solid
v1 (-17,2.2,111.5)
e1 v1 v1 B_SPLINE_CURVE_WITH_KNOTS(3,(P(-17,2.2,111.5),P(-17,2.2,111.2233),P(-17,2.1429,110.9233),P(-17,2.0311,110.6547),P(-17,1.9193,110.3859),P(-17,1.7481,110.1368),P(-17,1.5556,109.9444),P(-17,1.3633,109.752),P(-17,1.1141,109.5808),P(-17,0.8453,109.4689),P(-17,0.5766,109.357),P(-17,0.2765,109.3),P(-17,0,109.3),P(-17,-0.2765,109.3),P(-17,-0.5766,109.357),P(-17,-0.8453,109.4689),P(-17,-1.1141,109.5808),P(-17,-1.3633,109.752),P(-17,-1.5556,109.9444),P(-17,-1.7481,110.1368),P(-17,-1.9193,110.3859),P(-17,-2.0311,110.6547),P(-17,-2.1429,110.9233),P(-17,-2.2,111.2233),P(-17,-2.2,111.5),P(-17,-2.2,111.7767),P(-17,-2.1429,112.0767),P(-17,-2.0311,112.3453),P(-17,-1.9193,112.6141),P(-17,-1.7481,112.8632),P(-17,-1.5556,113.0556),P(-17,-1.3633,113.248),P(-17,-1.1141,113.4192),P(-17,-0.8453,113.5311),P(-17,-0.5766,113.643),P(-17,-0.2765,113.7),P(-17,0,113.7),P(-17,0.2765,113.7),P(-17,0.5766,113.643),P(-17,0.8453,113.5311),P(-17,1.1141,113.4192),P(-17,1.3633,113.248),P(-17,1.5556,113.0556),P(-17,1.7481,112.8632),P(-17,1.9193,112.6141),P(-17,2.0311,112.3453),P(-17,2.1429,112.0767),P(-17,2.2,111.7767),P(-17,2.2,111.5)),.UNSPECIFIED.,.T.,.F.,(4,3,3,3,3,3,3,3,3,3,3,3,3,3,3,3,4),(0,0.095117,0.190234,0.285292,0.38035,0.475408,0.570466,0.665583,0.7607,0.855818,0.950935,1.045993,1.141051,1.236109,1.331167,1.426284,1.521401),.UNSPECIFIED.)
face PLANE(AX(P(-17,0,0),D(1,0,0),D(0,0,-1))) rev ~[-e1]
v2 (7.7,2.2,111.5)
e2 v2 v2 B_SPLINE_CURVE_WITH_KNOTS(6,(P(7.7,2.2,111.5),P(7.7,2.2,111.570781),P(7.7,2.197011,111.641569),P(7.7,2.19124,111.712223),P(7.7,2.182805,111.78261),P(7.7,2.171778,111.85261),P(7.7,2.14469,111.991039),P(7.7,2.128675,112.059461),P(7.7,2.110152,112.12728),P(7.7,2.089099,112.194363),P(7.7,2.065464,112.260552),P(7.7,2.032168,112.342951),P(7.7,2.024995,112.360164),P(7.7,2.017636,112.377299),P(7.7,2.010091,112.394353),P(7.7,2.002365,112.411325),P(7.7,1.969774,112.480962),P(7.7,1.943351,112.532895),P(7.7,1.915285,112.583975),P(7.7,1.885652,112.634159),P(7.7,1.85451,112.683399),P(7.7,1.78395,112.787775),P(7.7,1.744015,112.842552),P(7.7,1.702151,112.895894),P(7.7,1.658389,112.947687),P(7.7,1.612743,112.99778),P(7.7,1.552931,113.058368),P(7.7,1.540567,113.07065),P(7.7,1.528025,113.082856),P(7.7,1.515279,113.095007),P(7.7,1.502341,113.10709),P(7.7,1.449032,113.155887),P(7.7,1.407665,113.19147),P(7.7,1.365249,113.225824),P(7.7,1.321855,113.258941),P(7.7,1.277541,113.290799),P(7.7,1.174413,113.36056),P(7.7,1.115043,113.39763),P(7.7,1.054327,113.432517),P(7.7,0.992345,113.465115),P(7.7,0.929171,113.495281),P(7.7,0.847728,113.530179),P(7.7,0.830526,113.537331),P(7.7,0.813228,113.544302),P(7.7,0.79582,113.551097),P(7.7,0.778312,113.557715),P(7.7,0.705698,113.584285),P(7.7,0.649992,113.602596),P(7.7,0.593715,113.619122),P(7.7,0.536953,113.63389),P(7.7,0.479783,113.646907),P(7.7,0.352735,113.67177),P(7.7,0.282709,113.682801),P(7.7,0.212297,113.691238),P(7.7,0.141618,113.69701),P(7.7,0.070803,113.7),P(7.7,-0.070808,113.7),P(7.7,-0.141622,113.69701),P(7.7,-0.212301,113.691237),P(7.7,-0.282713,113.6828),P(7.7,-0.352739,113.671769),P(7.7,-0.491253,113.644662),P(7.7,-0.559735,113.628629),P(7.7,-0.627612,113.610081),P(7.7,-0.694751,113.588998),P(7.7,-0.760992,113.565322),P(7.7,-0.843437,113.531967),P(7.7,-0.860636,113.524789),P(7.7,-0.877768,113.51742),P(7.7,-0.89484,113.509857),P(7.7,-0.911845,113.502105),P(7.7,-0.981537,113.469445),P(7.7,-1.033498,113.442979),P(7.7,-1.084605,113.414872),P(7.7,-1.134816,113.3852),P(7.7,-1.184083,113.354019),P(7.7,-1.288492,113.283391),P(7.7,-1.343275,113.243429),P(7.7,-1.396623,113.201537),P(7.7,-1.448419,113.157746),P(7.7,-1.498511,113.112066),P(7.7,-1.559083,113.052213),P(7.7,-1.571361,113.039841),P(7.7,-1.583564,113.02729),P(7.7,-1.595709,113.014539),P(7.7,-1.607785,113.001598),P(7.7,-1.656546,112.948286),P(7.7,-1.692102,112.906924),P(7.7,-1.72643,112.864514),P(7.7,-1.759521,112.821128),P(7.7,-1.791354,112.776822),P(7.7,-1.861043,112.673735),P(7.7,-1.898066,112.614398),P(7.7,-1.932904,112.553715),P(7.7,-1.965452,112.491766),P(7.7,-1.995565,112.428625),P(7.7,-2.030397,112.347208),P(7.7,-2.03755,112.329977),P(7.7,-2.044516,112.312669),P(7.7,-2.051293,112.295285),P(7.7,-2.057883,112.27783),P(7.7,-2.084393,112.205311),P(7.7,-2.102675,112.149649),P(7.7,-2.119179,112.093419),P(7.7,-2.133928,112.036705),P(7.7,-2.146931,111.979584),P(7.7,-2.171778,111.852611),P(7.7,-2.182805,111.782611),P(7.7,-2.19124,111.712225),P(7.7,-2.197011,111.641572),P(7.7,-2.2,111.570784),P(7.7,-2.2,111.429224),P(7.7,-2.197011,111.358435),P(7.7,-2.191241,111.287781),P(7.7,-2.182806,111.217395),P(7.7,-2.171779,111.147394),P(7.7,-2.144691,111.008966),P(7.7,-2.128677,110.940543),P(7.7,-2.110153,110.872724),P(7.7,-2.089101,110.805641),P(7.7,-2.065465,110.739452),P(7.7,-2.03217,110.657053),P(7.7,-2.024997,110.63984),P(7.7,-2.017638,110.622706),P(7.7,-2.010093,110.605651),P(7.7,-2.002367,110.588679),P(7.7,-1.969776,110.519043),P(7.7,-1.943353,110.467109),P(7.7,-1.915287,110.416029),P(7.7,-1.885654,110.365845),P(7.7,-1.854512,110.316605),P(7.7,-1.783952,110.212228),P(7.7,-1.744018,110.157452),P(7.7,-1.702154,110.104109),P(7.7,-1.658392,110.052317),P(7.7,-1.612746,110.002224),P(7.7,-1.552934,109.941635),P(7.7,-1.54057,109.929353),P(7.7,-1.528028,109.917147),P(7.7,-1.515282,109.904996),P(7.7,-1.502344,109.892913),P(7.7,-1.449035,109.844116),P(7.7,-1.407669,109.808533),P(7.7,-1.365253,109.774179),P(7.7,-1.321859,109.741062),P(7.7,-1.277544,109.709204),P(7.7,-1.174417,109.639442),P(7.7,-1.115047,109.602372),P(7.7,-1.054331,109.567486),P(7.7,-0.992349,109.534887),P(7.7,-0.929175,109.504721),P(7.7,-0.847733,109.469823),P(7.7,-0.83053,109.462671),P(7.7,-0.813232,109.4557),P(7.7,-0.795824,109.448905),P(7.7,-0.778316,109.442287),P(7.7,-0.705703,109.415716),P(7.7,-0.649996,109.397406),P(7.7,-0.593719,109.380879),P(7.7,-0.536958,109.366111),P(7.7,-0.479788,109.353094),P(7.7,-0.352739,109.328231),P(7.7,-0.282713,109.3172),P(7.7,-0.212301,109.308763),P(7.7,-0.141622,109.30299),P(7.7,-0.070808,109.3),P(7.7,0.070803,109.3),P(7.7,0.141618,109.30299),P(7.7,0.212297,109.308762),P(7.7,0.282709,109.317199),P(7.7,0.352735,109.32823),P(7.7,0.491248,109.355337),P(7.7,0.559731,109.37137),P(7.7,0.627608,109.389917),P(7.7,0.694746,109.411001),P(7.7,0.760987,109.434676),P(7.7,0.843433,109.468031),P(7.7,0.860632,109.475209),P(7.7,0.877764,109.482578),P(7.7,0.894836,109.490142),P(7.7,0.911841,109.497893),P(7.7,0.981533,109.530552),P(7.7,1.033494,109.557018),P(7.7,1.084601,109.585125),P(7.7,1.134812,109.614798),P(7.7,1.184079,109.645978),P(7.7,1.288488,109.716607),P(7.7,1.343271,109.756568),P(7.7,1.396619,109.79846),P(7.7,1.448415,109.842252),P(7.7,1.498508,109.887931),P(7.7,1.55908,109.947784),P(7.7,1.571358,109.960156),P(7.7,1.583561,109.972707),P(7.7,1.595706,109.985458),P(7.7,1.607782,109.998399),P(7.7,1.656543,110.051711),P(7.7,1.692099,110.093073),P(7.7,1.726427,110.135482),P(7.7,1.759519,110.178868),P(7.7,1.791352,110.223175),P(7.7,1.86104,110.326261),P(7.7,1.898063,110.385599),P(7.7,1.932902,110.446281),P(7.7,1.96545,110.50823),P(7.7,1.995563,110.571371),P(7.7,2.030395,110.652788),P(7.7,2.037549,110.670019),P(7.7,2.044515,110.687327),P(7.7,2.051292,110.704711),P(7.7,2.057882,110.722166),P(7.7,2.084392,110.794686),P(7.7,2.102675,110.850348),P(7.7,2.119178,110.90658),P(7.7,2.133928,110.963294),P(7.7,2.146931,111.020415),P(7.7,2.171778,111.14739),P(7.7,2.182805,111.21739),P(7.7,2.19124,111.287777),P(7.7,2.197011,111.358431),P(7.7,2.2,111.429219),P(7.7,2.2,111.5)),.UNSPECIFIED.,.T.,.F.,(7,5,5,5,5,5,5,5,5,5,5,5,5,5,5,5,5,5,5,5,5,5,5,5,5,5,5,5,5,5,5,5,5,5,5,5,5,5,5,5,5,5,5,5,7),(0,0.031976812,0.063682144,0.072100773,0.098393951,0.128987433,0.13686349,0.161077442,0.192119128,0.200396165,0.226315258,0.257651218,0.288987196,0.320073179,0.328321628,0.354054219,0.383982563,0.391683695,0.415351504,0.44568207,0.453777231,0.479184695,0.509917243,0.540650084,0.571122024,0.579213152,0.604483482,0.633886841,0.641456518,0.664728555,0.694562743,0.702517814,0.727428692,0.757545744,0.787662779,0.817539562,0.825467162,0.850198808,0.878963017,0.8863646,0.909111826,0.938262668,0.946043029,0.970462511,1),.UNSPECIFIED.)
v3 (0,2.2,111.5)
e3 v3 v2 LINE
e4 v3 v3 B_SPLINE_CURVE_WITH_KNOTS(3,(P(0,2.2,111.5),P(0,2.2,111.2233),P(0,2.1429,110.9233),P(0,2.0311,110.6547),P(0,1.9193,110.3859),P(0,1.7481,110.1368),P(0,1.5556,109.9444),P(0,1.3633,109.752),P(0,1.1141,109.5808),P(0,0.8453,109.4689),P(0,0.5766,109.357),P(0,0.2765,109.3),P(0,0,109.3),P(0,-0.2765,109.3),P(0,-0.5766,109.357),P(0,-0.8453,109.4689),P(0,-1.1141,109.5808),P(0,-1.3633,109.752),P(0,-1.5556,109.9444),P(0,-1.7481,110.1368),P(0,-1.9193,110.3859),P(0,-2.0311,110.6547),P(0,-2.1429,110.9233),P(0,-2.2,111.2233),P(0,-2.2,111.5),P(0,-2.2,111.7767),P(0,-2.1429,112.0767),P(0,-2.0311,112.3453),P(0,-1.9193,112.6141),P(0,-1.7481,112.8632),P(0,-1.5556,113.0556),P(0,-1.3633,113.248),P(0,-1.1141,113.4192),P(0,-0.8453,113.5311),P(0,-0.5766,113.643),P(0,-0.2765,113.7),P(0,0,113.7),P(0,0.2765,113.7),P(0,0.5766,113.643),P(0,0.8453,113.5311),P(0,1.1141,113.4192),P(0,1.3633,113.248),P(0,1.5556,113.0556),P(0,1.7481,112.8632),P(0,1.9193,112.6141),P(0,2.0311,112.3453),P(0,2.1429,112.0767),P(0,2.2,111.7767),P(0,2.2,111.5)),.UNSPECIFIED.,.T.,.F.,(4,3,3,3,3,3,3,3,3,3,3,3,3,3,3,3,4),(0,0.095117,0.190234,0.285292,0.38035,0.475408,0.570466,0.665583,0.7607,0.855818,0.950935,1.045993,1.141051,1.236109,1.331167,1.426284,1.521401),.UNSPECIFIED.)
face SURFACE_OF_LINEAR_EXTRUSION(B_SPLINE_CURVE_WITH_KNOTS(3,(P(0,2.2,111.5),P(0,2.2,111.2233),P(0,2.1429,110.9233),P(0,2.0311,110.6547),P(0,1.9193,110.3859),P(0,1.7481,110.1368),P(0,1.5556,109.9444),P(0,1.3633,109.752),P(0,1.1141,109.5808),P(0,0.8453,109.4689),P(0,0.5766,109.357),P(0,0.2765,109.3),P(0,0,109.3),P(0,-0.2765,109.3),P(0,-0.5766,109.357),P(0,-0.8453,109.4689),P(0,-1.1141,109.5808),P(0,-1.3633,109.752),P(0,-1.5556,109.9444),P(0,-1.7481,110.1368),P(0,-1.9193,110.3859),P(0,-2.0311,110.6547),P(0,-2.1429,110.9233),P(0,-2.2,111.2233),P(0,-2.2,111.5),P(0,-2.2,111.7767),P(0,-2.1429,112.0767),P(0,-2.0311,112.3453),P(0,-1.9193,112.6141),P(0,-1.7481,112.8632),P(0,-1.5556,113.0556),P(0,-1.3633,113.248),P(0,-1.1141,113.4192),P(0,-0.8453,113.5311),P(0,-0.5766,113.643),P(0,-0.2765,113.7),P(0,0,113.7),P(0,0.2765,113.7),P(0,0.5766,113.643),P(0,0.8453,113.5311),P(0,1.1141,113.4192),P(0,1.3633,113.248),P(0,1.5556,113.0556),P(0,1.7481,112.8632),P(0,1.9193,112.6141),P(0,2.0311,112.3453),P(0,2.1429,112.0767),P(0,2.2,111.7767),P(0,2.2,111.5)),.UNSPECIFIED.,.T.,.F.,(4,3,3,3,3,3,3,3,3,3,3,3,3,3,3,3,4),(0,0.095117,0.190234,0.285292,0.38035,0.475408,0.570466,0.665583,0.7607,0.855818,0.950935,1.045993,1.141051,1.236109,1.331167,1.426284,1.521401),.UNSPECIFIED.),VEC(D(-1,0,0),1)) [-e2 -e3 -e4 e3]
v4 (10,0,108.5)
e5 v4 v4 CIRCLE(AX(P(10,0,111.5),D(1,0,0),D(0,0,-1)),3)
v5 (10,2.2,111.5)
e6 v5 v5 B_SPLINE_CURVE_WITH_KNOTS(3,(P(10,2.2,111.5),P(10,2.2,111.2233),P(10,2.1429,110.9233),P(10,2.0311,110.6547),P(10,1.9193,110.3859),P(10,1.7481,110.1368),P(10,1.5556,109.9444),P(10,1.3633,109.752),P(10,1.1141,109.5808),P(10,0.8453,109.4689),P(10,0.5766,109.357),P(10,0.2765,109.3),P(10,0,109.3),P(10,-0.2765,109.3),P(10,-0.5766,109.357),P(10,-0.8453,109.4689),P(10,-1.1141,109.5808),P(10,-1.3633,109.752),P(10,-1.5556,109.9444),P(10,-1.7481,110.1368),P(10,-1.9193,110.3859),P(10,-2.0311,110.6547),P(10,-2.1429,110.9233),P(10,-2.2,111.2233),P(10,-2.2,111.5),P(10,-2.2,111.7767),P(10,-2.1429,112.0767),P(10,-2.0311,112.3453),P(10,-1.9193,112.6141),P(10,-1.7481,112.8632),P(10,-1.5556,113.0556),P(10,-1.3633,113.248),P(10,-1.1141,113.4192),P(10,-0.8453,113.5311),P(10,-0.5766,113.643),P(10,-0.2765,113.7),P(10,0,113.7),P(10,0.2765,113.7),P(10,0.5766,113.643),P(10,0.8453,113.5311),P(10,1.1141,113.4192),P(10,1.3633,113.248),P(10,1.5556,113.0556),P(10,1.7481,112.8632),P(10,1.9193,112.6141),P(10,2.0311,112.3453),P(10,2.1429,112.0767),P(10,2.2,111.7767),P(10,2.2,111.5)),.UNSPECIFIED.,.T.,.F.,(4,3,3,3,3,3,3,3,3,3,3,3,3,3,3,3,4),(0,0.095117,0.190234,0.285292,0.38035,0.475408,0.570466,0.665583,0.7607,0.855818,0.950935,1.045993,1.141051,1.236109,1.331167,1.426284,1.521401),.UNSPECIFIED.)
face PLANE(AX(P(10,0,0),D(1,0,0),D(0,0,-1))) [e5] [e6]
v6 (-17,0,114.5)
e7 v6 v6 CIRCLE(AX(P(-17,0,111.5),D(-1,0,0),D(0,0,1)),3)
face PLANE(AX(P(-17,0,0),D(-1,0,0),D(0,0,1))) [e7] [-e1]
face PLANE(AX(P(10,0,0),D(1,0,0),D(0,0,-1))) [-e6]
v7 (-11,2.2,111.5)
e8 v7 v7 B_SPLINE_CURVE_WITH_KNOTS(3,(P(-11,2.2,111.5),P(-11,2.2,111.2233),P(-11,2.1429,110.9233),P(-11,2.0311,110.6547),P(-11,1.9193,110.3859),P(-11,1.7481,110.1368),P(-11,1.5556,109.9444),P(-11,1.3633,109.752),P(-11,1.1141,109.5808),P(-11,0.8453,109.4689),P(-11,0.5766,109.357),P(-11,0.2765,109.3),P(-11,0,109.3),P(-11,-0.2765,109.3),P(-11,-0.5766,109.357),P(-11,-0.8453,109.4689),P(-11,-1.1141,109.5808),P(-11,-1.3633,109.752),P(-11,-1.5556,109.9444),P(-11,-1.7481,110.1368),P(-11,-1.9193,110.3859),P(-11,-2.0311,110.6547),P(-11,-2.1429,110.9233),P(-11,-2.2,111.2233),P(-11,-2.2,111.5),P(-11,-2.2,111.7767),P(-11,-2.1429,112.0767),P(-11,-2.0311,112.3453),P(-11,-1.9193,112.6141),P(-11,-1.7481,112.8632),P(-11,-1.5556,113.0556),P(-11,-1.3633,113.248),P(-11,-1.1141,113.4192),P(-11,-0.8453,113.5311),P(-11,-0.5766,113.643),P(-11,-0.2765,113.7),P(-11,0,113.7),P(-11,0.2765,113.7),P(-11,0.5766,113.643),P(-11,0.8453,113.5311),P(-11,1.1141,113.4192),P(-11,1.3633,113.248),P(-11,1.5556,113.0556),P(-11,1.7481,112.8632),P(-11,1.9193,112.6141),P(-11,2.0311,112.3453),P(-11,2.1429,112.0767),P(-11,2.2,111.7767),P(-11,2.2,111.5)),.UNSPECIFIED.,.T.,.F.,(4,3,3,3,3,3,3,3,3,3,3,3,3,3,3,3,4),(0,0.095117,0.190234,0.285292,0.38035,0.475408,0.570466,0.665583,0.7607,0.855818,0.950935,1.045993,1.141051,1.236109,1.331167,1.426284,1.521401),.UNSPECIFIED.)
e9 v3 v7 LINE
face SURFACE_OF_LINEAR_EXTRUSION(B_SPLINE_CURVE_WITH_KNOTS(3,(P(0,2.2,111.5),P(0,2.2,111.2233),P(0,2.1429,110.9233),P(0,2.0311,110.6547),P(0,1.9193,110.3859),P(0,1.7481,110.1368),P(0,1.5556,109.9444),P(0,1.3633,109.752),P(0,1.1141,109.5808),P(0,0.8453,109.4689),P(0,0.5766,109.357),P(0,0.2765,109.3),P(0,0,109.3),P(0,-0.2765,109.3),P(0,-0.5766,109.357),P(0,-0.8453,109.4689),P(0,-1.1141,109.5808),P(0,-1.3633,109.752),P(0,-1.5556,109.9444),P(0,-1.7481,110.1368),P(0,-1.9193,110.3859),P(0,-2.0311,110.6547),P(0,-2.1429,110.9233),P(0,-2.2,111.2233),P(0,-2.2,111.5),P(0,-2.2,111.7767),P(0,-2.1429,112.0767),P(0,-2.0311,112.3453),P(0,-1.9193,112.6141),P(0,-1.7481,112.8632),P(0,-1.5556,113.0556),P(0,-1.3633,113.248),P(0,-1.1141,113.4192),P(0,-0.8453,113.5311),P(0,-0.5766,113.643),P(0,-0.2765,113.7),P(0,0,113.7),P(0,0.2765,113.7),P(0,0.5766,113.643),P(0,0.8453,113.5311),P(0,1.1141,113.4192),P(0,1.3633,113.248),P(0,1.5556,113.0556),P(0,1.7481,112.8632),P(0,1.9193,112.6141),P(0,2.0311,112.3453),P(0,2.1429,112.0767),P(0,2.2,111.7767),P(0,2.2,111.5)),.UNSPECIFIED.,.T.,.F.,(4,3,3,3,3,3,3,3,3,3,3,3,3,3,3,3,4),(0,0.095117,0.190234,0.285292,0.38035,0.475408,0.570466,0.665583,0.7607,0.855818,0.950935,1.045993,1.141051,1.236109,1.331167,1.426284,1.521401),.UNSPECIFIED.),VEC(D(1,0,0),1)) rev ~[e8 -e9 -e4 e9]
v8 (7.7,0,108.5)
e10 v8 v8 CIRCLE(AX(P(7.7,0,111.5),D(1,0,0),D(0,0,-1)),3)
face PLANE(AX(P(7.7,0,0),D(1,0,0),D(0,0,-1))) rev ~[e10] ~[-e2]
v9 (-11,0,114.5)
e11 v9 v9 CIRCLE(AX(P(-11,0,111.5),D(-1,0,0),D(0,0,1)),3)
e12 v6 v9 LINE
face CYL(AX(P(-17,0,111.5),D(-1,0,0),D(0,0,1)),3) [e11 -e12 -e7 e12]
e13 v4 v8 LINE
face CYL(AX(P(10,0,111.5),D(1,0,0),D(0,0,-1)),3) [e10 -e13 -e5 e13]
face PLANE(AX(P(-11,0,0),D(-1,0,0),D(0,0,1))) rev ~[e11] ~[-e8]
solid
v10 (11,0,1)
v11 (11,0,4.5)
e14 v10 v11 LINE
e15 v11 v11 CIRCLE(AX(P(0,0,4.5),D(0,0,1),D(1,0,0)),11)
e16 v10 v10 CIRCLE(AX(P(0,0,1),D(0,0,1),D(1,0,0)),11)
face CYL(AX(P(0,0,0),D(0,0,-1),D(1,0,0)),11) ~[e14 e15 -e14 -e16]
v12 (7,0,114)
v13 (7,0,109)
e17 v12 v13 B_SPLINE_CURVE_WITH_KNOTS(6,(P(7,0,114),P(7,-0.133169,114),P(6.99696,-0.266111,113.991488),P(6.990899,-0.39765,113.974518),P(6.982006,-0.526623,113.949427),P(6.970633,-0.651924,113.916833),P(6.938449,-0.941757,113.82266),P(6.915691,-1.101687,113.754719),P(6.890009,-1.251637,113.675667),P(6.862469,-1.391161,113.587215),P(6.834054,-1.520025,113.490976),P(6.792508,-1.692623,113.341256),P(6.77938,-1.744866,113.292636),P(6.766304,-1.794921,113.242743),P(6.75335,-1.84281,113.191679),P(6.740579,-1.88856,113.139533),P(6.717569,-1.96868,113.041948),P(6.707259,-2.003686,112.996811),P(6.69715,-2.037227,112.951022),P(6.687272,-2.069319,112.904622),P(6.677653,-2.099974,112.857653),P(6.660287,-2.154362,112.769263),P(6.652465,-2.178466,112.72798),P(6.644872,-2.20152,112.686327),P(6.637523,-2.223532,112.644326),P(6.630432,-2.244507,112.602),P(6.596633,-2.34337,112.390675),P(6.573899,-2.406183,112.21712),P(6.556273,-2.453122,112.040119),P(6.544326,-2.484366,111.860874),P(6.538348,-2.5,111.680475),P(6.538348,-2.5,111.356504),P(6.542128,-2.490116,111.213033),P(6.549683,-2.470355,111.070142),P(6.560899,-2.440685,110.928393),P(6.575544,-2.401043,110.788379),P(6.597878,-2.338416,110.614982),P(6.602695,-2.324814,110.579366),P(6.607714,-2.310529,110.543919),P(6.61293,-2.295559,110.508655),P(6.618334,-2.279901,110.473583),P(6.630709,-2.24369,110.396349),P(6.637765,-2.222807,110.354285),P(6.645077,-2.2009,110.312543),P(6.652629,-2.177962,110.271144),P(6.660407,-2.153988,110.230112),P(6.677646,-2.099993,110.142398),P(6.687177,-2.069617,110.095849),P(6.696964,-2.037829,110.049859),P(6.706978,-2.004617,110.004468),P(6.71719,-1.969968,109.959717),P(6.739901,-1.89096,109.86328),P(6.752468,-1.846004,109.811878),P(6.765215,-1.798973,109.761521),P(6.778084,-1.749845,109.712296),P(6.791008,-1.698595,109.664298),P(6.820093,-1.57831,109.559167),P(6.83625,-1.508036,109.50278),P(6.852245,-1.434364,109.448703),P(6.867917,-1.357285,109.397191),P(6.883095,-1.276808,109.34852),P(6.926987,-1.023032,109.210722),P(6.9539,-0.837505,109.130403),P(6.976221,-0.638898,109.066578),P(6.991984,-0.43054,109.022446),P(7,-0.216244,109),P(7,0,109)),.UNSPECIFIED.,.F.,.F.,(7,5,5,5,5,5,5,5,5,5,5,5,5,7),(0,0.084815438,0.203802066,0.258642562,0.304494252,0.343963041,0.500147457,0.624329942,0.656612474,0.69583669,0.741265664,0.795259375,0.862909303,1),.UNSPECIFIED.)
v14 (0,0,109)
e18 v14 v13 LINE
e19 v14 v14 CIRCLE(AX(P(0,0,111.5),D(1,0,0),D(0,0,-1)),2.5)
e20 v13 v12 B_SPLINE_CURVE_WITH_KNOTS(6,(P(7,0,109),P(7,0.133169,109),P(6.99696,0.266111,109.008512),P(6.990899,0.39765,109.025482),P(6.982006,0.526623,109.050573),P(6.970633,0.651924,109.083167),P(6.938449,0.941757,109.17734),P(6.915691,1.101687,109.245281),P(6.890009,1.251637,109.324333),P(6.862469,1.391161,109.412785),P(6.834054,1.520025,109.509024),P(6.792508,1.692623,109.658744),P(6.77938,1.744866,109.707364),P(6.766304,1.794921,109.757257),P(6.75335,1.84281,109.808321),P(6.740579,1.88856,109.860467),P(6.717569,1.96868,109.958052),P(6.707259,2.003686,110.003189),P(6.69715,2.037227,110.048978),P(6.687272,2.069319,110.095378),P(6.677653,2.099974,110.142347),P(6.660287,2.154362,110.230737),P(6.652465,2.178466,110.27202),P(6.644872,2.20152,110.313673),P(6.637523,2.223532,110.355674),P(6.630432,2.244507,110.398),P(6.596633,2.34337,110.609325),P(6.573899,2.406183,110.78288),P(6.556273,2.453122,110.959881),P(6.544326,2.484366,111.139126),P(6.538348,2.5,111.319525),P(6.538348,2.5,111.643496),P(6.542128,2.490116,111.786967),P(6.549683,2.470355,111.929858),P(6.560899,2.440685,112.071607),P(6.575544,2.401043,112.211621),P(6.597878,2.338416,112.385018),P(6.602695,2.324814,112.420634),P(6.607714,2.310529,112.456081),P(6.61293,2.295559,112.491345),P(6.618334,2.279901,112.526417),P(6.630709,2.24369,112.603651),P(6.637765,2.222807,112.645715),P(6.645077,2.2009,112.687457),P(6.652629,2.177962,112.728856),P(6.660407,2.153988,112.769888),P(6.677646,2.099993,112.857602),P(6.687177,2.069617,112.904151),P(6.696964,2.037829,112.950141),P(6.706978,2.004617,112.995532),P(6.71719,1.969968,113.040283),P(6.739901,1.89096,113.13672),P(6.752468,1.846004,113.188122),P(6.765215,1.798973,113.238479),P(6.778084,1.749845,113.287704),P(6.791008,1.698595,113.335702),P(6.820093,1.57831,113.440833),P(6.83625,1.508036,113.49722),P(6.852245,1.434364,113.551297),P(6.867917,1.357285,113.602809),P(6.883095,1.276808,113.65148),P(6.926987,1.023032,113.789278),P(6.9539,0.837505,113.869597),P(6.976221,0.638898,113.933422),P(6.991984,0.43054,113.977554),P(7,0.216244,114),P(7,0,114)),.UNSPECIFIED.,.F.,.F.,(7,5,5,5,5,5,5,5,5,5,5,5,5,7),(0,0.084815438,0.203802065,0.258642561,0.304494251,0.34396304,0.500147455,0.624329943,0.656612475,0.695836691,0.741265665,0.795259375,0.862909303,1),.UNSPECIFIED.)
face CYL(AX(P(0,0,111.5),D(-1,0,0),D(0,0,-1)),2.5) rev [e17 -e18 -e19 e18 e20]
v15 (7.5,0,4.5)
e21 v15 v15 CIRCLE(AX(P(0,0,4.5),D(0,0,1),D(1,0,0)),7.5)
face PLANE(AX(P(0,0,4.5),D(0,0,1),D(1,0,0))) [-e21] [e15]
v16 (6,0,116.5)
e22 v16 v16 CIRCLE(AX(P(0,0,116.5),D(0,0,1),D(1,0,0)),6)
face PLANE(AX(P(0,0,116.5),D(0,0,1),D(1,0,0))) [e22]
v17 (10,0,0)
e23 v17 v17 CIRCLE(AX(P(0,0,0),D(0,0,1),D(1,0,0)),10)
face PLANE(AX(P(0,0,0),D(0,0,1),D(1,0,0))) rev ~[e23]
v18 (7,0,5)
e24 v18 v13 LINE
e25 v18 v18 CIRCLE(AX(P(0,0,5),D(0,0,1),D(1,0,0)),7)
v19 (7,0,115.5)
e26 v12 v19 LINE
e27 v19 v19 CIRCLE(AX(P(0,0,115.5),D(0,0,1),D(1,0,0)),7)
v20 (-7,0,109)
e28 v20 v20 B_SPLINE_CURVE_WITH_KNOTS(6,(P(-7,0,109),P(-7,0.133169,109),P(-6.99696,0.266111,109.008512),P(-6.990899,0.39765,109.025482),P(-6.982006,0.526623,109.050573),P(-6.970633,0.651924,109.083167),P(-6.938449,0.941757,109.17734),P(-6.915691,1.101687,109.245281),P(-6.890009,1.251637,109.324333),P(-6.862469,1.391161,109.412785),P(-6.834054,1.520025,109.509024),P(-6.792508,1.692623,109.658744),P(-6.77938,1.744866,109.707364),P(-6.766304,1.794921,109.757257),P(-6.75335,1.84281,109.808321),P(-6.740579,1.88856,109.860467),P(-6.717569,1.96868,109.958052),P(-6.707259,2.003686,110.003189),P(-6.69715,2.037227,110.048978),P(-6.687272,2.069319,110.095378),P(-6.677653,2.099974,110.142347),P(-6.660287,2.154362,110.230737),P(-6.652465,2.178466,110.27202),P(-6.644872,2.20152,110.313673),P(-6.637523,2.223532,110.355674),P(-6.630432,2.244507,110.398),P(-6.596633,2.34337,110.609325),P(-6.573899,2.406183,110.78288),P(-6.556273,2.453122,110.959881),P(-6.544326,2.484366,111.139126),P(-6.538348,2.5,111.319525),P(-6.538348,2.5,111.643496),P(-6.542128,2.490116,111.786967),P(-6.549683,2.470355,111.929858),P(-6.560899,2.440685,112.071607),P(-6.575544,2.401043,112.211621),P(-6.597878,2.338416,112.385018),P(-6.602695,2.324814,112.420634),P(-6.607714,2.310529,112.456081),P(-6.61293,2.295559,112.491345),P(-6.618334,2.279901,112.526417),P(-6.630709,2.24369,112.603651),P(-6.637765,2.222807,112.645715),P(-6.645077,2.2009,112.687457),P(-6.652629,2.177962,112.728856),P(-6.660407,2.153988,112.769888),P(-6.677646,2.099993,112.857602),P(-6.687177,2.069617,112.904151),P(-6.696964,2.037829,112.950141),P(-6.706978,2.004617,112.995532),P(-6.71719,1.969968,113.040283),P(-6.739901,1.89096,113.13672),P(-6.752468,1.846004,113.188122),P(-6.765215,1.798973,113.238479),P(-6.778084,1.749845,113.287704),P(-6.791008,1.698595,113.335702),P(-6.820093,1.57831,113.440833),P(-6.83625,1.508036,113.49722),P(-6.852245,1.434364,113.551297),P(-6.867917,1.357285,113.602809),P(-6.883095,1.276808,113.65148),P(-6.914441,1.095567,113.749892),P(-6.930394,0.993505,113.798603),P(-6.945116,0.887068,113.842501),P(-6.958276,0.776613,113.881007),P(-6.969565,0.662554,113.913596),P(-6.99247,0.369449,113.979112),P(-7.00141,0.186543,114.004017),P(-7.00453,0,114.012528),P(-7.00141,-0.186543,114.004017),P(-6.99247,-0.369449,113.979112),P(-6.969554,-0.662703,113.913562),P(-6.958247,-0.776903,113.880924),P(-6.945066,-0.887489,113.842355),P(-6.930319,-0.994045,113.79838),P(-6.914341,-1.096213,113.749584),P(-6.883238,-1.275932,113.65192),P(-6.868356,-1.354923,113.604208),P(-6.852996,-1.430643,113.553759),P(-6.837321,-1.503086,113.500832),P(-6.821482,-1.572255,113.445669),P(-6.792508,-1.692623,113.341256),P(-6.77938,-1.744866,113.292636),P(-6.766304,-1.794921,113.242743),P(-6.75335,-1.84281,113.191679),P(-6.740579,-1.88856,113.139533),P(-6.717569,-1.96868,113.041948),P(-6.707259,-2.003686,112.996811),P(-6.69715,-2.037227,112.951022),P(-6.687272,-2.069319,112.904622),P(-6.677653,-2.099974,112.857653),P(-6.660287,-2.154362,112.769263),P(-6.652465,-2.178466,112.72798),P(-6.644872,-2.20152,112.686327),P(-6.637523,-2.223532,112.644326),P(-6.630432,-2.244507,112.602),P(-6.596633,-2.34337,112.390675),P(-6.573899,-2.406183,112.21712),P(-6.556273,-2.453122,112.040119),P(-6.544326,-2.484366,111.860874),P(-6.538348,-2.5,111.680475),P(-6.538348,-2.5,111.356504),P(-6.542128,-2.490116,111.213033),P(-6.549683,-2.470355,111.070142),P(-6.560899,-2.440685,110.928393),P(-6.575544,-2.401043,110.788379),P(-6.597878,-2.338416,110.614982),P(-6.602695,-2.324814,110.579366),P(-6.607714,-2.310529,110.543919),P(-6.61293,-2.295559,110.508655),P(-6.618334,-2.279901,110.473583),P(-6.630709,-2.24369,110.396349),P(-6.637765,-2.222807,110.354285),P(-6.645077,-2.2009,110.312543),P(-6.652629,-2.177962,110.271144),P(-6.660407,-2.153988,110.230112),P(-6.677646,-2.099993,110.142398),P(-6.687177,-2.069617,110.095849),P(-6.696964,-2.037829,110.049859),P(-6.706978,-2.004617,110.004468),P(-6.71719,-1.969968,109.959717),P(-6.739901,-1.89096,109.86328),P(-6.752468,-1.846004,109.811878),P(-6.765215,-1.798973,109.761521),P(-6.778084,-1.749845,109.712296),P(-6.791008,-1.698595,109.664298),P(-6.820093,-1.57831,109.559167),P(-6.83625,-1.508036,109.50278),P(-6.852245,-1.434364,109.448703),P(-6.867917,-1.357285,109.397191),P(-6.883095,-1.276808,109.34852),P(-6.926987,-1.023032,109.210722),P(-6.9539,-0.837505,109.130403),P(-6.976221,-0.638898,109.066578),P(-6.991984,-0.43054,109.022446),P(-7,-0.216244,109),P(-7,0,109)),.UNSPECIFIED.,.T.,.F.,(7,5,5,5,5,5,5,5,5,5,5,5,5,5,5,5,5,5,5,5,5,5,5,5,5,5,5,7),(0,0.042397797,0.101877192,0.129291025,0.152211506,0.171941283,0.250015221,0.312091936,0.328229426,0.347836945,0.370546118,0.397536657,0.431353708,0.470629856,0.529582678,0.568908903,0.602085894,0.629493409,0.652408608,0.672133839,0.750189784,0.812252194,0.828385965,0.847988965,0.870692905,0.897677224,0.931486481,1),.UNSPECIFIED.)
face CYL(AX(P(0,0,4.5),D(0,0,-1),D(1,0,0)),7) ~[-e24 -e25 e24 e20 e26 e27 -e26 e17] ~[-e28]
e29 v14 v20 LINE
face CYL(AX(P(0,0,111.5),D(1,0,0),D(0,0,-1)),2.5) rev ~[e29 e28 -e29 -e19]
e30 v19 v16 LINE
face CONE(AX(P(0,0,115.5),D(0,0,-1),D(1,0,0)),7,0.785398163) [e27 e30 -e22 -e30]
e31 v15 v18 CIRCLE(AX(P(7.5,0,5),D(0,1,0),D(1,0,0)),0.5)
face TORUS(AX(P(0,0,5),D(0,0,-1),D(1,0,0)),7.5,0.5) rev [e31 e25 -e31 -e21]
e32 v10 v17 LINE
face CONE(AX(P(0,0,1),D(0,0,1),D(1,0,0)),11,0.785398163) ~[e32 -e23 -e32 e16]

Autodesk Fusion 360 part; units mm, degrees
sketch "Sketch1" plane through (0, 0, 0) normal (0, 0, 1) x (1, 0, 0)
  circle A0 centre (0, 0) radius 11
  dimension "d1" = 22
extrude "Extrude1" add sketch "Sketch1" along normal blind 4.5 makes body 1
chamfer "Chamfer1" distance 1 angle 45 1 edges at (-10.2556, -3.9778, 0) on bodies 1
sketch "Sketch2" plane through (0, 0, 4.5) normal (0, 0, 1) x (1, 0, 0)
  circle A0 centre (0, 0) radius 11
  circle A1 centre (0, 0) radius 7
  dimension "d5" = 14
extrude "Extrude2" add sketch "Sketch2" along normal blind 112 contours A1 bodies 1
fillet "Fillet1" radius 0.5 1 edges at (-6.5263, 2.5313, 4.5) on bodies 1
sketch "Sketch3" plane through (0, 0, 0) normal (1, 0, 0) x (0, 0, -1)
  line L0 (-116.5, 0) -> (-111.5, 0) construction
  circle A0 centre (-111.5, 0) radius 2.5
  point P0 (-116.5, 0)
  dimension "d9" = 5
  dimension "d10" = 5
extrude "Extrude3" cut sketch "Sketch3" along normal through all and the other way through all bodies 1
chamfer "Chamfer2" distance 1 angle 45 1 edges at (-6.5263, -2.5313, 116.5) on bodies 1
sketch "Sketch4" plane through (0, 0, 0) normal (1, 0, 0) x (0, 0, -1)
  spline S0 degree 3 poles (-111.5, 2.5) (-111.1829, 2.5) (-110.8469, 2.4361) (-110.2319, 2.1801) (-109.9527, 1.9882) (-109.5119, 1.5474) (-109.3199, 1.2682) (-109.0639, 0.653) (-109, 0.3169) (-109, -0.3169) (-109.0639, -0.653) (-109.3199, -1.2682) (-109.5119, -1.5474) (-109.9527, -1.9882) (-110.2319, -2.1801) (-110.8469, -2.4361) (-111.1829, -2.5) (-111.8171, -2.5) (-112.1531, -2.4361) (-112.7681, -2.1801) (-113.0473, -1.9882) (-113.4881, -1.5474) (-113.6801, -1.2682) (-113.9361, -0.653) (-114, -0.3169) (-114, 0.3169) (-113.9361, 0.653) (-113.6801, 1.2682) (-113.4881, 1.5474) (-113.0473, 1.9882) (-112.7681, 2.1801) (-112.1531, 2.4361) (-111.8171, 2.5) (-111.5, 2.5) knots 0 0 0 0 0.095117 0.095117 0.190234 0.190234 0.285292 0.285292 0.38035 0.38035 0.475408 0.475408 0.570466 0.570466 0.665583 0.665583 0.7607 0.7607 0.855818 0.855818 0.950935 0.950935 1.045993 1.045993 1.141051 1.141051 1.236109 1.236109 1.331167 1.331167 1.426284 1.426284 1.521401 1.521401 1.521401 1.521401
  spline S1 degree 3 poles (-111.5, 2.2) (-111.2233, 2.2) (-110.9233, 2.1429) (-110.6547, 2.0311) (-110.3859, 1.9193) (-110.1368, 1.7481) (-109.9444, 1.5556) (-109.752, 1.3633) (-109.5808, 1.1141) (-109.4689, 0.8453) (-109.357, 0.5766) (-109.3, 0.2765) (-109.3, 0) (-109.3, -0.2765) (-109.357, -0.5766) (-109.4689, -0.8453) (-109.5808, -1.1141) (-109.752, -1.3633) (-109.9444, -1.5556) (-110.1368, -1.7481) (-110.3859, -1.9193) (-110.6547, -2.0311) (-110.9233, -2.1429) (-111.2233, -2.2) (-111.5, -2.2) (-111.7767, -2.2) (-112.0767, -2.1429) (-112.3453, -2.0311) (-112.6141, -1.9193) (-112.8632, -1.7481) (-113.0556, -1.5556) (-113.248, -1.3633) (-113.4192, -1.1141) (-113.5311, -0.8453) (-113.643, -0.5766) (-113.7, -0.2765) (-113.7, 0) (-113.7, 0.2765) (-113.643, 0.5766) (-113.5311, 0.8453) (-113.4192, 1.1141) (-113.248, 1.3633) (-113.0556, 1.5556) (-112.8632, 1.7481) (-112.6141, 1.9193) (-112.3453, 2.0311) (-112.0767, 2.1429) (-111.7767, 2.2) (-111.5, 2.2) knots 0 0 0 0 0.095117 0.095117 0.095117 0.190234 0.190234 0.190234 0.285292 0.285292 0.285292 0.38035 0.38035 0.38035 0.475408 0.475408 0.475408 0.570466 0.570466 0.570466 0.665583 0.665583 0.665583 0.7607 0.7607 0.7607 0.855818 0.855818 0.855818 0.950935 0.950935 0.950935 1.045993 1.045993 1.045993 1.141051 1.141051 1.141051 1.236109 1.236109 1.236109 1.331167 1.331167 1.331167 1.426284 1.426284 1.426284 1.521401 1.521401 1.521401 1.521401
  dimension "d14" = 0.3
extrude "Extrude4" add sketch "Sketch4" along normal blind 10 and the other way blind 17 separate body contours S1 makes body 2
sketch "Sketch5" plane through (10, 0, 0) normal (1, 0, 0) x (0, 0, -1)
  spline S0 degree 3 poles (-111.5, 2.2) (-111.7767, 2.2) (-112.0767, 2.1429) (-112.3453, 2.0311) (-112.6141, 1.9193) (-112.8632, 1.7481) (-113.0556, 1.5556) (-113.248, 1.3633) (-113.4192, 1.1141) (-113.5311, 0.8453) (-113.643, 0.5766) (-113.7, 0.2765) (-113.7, 0) (-113.7, -0.2765) (-113.643, -0.5766) (-113.5311, -0.8453) (-113.4192, -1.1141) (-113.248, -1.3633) (-113.0556, -1.5556) (-112.8632, -1.7481) (-112.6141, -1.9193) (-112.3453, -2.0311) (-112.0767, -2.1429) (-111.7767, -2.2) (-111.5, -2.2) (-111.2233, -2.2) (-110.9233, -2.1429) (-110.6547, -2.0311) (-110.3859, -1.9193) (-110.1368, -1.7481) (-109.9444, -1.5556) (-109.752, -1.3633) (-109.5808, -1.1141) (-109.4689, -0.8453) (-109.357, -0.5766) (-109.3, -0.2765) (-109.3, 0) (-109.3, 0.2765) (-109.357, 0.5766) (-109.4689, 0.8453) (-109.5808, 1.1141) (-109.752, 1.3633) (-109.9444, 1.5556) (-110.1368, 1.7481) (-110.3859, 1.9193) (-110.6547, 2.0311) (-110.9233, 2.1429) (-111.2233, 2.2) (-111.5, 2.2) knots -1.521401 -1.521401 -1.521401 -1.521401 -1.426284 -1.426284 -1.426284 -1.331167 -1.331167 -1.331167 -1.236109 -1.236109 -1.236109 -1.141051 -1.141051 -1.141051 -1.045993 -1.045993 -1.045993 -0.950935 -0.950935 -0.950935 -0.855818 -0.855818 -0.855818 -0.7607 -0.7607 -0.7607 -0.665583 -0.665583 -0.665583 -0.570466 -0.570466 -0.570466 -0.475408 -0.475408 -0.475408 -0.38035 -0.38035 -0.38035 -0.285292 -0.285292 -0.285292 -0.190234 -0.190234 -0.190234 -0.095117 -0.095117 -0.095117 0 0 0 0
  spline S1 degree 3 poles (-111.5, 2.2) (-111.7767, 2.2) (-112.0767, 2.1429) (-112.3453, 2.0311) (-112.6141, 1.9193) (-112.8632, 1.7481) (-113.0556, 1.5556) (-113.248, 1.3633) (-113.4192, 1.1141) (-113.5311, 0.8453) (-113.643, 0.5766) (-113.7, 0.2765) (-113.7, 0) (-113.7, -0.2765) (-113.643, -0.5766) (-113.5311, -0.8453) (-113.4192, -1.1141) (-113.248, -1.3633) (-113.0556, -1.5556) (-112.8632, -1.7481) (-112.6141, -1.9193) (-112.3453, -2.0311) (-112.0767, -2.1429) (-111.7767, -2.2) (-111.5, -2.2) (-111.2233, -2.2) (-110.9233, -2.1429) (-110.6547, -2.0311) (-110.3859, -1.9193) (-110.1368, -1.7481) (-109.9444, -1.5556) (-109.752, -1.3633) (-109.5808, -1.1141) (-109.4689, -0.8453) (-109.357, -0.5766) (-109.3, -0.2765) (-109.3, 0) (-109.3, 0.2765) (-109.357, 0.5766) (-109.4689, 0.8453) (-109.5808, 1.1141) (-109.752, 1.3633) (-109.9444, 1.5556) (-110.1368, 1.7481) (-110.3859, 1.9193) (-110.6547, 2.0311) (-110.9233, 2.1429) (-111.2233, 2.2) (-111.5, 2.2) knots -1.521401 -1.521401 -1.521401 -1.521401 -1.426284 -1.426284 -1.426284 -1.331167 -1.331167 -1.331167 -1.236109 -1.236109 -1.236109 -1.141051 -1.141051 -1.141051 -1.045993 -1.045993 -1.045993 -0.950935 -0.950935 -0.950935 -0.855818 -0.855818 -0.855818 -0.7607 -0.7607 -0.7607 -0.665583 -0.665583 -0.665583 -0.570466 -0.570466 -0.570466 -0.475408 -0.475408 -0.475408 -0.38035 -0.38035 -0.38035 -0.285292 -0.285292 -0.285292 -0.190234 -0.190234 -0.190234 -0.095117 -0.095117 -0.095117 0 0 0 0
  spline S2 degree 3 poles (-111.5, 2.2) (-111.2233, 2.2) (-110.9233, 2.1429) (-110.6547, 2.0311) (-110.3859, 1.9193) (-110.1368, 1.7481) (-109.9444, 1.5556) (-109.752, 1.3633) (-109.5808, 1.1141) (-109.4689, 0.8453) (-109.357, 0.5766) (-109.3, 0.2765) (-109.3, 0) (-109.3, -0.2765) (-109.357, -0.5766) (-109.4689, -0.8453) (-109.5808, -1.1141) (-109.752, -1.3633) (-109.9444, -1.5556) (-110.1368, -1.7481) (-110.3859, -1.9193) (-110.6547, -2.0311) (-110.9233, -2.1429) (-111.2233, -2.2) (-111.5, -2.2) (-111.7767, -2.2) (-112.0767, -2.1429) (-112.3453, -2.0311) (-112.6141, -1.9193) (-112.8632, -1.7481) (-113.0556, -1.5556) (-113.248, -1.3633) (-113.4192, -1.1141) (-113.5311, -0.8453) (-113.643, -0.5766) (-113.7, -0.2765) (-113.7, 0) (-113.7, 0.2765) (-113.643, 0.5766) (-113.5311, 0.8453) (-113.4192, 1.1141) (-113.248, 1.3633) (-113.0556, 1.5556) (-112.8632, 1.7481) (-112.6141, 1.9193) (-112.3453, 2.0311) (-112.0767, 2.1429) (-111.7767, 2.2) (-111.5, 2.2) knots 0 0 0 0 0.095117 0.095117 0.095117 0.190234 0.190234 0.190234 0.285292 0.285292 0.285292 0.38035 0.38035 0.38035 0.475408 0.475408 0.475408 0.570466 0.570466 0.570466 0.665583 0.665583 0.665583 0.7607 0.7607 0.7607 0.855818 0.855818 0.855818 0.950935 0.950935 0.950935 1.045993 1.045993 1.045993 1.141051 1.141051 1.141051 1.236109 1.236109 1.236109 1.331167 1.331167 1.331167 1.426284 1.426284 1.426284 1.521401 1.521401 1.521401 1.521401
  circle A0 centre (-111.5, 0) radius 3
  point P0 (-111.5, 2.2)
  dimension "d19" = 6
extrude "Extrude5" add sketch "Sketch5" against normal blind 2.3 contours S0 S1 S2 | A0 bodies 2
sketch "Sketch6" plane through (-17, 0, 0) normal (-1, 0, 0) x (0, 0, 1)
  spline S0 degree 3 poles (111.5, 2.2) (111.2233, 2.2) (110.9233, 2.1429) (110.6547, 2.0311) (110.3859, 1.9193) (110.1368, 1.7481) (109.9444, 1.5556) (109.752, 1.3633) (109.5808, 1.1141) (109.4689, 0.8453) (109.357, 0.5766) (109.3, 0.2765) (109.3, 0) (109.3, -0.2765) (109.357, -0.5766) (109.4689, -0.8453) (109.5808, -1.1141) (109.752, -1.3633) (109.9444, -1.5556) (110.1368, -1.7481) (110.3859, -1.9193) (110.6547, -2.0311) (110.9233, -2.1429) (111.2233, -2.2) (111.5, -2.2) (111.7767, -2.2) (112.0767, -2.1429) (112.3453, -2.0311) (112.6141, -1.9193) (112.8632, -1.7481) (113.0556, -1.5556) (113.248, -1.3633) (113.4192, -1.1141) (113.5311, -0.8453) (113.643, -0.5766) (113.7, -0.2765) (113.7, 0) (113.7, 0.2765) (113.643, 0.5766) (113.5311, 0.8453) (113.4192, 1.1141) (113.248, 1.3633) (113.0556, 1.5556) (112.8632, 1.7481) (112.6141, 1.9193) (112.3453, 2.0311) (112.0767, 2.1429) (111.7767, 2.2) (111.5, 2.2) knots 0 0 0 0 0.095117 0.095117 0.095117 0.190234 0.190234 0.190234 0.285292 0.285292 0.285292 0.38035 0.38035 0.38035 0.475408 0.475408 0.475408 0.570466 0.570466 0.570466 0.665583 0.665583 0.665583 0.7607 0.7607 0.7607 0.855818 0.855818 0.855818 0.950935 0.950935 0.950935 1.045993 1.045993 1.045993 1.141051 1.141051 1.141051 1.236109 1.236109 1.236109 1.331167 1.331167 1.331167 1.426284 1.426284 1.426284 1.521401 1.521401 1.521401 1.521401
  spline S1 degree 3 poles (111.5, 2.2) (111.4677, 2.1998) (111.4353, 2.1992) (111.1486, 2.1858) (110.8625, 2.122) (110.3144, 1.8831) (110.0981, 1.7094) (109.9444, 1.5556) (109.8214, 1.4326) (109.7114, 1.2909) (109.4765, 0.9058) (109.43, 0.7525) (109.3181, 0.3857) (109.2816, 0.0841) (109.3377, -0.4851) (109.4212, -0.7753) (109.6832, -1.2685) (109.8714, -1.5088) (110.3142, -1.8722) (110.5754, -2.0164) (111.1039, -2.1798) (111.4061, -2.2181) (111.9714, -2.1648) (112.2628, -2.0835) (112.7542, -1.8261) (112.9972, -1.6395) (113.3592, -1.2045) (113.5073, -0.9446) (113.6735, -0.4247) (113.717, -0.1208) (113.671, 0.4363) (113.5949, 0.7304) (113.3527, 1.212) (113.1703, 1.4637) (112.7547, 1.8231) (112.4982, 1.981) (112.0701, 2.1313) (111.7856, 2.1974) (111.5, 2.2) knots -0.122125 -0.122125 -0.122125 -0.122125 -0.115736 -0.115736 -0.065218 -0.065218 0 0 0 0.052189 0.052189 0.134842 0.134842 0.34423 0.34423 0.542353 0.542353 0.733658 0.733658 0.91385 0.91385 1.08848 1.08848 1.25086 1.25086 1.405126 1.405126 1.546294 1.546294 1.679136 1.679136 1.797637 1.797637 1.905712 1.905712 1.996221 1.996221 2.052666 2.052666 2.052666 2.052666 construction
  spline S2 degree 3 poles (111.5, 2.2) (111.2233, 2.2) (110.9233, 2.1429) (110.6547, 2.0311) (110.3859, 1.9193) (110.1368, 1.7481) (109.9444, 1.5556) (109.752, 1.3633) (109.5808, 1.1141) (109.4689, 0.8453) (109.357, 0.5766) (109.3, 0.2765) (109.3, 0) (109.3, -0.2765) (109.357, -0.5766) (109.4689, -0.8453) (109.5808, -1.1141) (109.752, -1.3633) (109.9444, -1.5556) (110.1368, -1.7481) (110.3859, -1.9193) (110.6547, -2.0311) (110.9233, -2.1429) (111.2233, -2.2) (111.5, -2.2) (111.7767, -2.2) (112.0767, -2.1429) (112.3453, -2.0311) (112.6141, -1.9193) (112.8632, -1.7481) (113.0556, -1.5556) (113.248, -1.3633) (113.4192, -1.1141) (113.5311, -0.8453) (113.643, -0.5766) (113.7, -0.2765) (113.7, 0) (113.7, 0.2765) (113.643, 0.5766) (113.5311, 0.8453) (113.4192, 1.1141) (113.248, 1.3633) (113.0556, 1.5556) (112.8632, 1.7481) (112.6141, 1.9193) (112.3453, 2.0311) (112.0767, 2.1429) (111.7767, 2.2) (111.5, 2.2) knots 0 0 0 0 0.095117 0.095117 0.095117 0.190234 0.190234 0.190234 0.285292 0.285292 0.285292 0.38035 0.38035 0.38035 0.475408 0.475408 0.475408 0.570466 0.570466 0.570466 0.665583 0.665583 0.665583 0.7607 0.7607 0.7607 0.855818 0.855818 0.855818 0.950935 0.950935 0.950935 1.045993 1.045993 1.045993 1.141051 1.141051 1.141051 1.236109 1.236109 1.236109 1.331167 1.331167 1.331167 1.426284 1.426284 1.426284 1.521401 1.521401 1.521401 1.521401
  circle A0 centre (111.5, 0) radius 3
  point P0 (111.5, 2.2)
  dimension "d22" = 6
extrude "Extrude6" add sketch "Sketch6" against normal blind 6 bodies 2
